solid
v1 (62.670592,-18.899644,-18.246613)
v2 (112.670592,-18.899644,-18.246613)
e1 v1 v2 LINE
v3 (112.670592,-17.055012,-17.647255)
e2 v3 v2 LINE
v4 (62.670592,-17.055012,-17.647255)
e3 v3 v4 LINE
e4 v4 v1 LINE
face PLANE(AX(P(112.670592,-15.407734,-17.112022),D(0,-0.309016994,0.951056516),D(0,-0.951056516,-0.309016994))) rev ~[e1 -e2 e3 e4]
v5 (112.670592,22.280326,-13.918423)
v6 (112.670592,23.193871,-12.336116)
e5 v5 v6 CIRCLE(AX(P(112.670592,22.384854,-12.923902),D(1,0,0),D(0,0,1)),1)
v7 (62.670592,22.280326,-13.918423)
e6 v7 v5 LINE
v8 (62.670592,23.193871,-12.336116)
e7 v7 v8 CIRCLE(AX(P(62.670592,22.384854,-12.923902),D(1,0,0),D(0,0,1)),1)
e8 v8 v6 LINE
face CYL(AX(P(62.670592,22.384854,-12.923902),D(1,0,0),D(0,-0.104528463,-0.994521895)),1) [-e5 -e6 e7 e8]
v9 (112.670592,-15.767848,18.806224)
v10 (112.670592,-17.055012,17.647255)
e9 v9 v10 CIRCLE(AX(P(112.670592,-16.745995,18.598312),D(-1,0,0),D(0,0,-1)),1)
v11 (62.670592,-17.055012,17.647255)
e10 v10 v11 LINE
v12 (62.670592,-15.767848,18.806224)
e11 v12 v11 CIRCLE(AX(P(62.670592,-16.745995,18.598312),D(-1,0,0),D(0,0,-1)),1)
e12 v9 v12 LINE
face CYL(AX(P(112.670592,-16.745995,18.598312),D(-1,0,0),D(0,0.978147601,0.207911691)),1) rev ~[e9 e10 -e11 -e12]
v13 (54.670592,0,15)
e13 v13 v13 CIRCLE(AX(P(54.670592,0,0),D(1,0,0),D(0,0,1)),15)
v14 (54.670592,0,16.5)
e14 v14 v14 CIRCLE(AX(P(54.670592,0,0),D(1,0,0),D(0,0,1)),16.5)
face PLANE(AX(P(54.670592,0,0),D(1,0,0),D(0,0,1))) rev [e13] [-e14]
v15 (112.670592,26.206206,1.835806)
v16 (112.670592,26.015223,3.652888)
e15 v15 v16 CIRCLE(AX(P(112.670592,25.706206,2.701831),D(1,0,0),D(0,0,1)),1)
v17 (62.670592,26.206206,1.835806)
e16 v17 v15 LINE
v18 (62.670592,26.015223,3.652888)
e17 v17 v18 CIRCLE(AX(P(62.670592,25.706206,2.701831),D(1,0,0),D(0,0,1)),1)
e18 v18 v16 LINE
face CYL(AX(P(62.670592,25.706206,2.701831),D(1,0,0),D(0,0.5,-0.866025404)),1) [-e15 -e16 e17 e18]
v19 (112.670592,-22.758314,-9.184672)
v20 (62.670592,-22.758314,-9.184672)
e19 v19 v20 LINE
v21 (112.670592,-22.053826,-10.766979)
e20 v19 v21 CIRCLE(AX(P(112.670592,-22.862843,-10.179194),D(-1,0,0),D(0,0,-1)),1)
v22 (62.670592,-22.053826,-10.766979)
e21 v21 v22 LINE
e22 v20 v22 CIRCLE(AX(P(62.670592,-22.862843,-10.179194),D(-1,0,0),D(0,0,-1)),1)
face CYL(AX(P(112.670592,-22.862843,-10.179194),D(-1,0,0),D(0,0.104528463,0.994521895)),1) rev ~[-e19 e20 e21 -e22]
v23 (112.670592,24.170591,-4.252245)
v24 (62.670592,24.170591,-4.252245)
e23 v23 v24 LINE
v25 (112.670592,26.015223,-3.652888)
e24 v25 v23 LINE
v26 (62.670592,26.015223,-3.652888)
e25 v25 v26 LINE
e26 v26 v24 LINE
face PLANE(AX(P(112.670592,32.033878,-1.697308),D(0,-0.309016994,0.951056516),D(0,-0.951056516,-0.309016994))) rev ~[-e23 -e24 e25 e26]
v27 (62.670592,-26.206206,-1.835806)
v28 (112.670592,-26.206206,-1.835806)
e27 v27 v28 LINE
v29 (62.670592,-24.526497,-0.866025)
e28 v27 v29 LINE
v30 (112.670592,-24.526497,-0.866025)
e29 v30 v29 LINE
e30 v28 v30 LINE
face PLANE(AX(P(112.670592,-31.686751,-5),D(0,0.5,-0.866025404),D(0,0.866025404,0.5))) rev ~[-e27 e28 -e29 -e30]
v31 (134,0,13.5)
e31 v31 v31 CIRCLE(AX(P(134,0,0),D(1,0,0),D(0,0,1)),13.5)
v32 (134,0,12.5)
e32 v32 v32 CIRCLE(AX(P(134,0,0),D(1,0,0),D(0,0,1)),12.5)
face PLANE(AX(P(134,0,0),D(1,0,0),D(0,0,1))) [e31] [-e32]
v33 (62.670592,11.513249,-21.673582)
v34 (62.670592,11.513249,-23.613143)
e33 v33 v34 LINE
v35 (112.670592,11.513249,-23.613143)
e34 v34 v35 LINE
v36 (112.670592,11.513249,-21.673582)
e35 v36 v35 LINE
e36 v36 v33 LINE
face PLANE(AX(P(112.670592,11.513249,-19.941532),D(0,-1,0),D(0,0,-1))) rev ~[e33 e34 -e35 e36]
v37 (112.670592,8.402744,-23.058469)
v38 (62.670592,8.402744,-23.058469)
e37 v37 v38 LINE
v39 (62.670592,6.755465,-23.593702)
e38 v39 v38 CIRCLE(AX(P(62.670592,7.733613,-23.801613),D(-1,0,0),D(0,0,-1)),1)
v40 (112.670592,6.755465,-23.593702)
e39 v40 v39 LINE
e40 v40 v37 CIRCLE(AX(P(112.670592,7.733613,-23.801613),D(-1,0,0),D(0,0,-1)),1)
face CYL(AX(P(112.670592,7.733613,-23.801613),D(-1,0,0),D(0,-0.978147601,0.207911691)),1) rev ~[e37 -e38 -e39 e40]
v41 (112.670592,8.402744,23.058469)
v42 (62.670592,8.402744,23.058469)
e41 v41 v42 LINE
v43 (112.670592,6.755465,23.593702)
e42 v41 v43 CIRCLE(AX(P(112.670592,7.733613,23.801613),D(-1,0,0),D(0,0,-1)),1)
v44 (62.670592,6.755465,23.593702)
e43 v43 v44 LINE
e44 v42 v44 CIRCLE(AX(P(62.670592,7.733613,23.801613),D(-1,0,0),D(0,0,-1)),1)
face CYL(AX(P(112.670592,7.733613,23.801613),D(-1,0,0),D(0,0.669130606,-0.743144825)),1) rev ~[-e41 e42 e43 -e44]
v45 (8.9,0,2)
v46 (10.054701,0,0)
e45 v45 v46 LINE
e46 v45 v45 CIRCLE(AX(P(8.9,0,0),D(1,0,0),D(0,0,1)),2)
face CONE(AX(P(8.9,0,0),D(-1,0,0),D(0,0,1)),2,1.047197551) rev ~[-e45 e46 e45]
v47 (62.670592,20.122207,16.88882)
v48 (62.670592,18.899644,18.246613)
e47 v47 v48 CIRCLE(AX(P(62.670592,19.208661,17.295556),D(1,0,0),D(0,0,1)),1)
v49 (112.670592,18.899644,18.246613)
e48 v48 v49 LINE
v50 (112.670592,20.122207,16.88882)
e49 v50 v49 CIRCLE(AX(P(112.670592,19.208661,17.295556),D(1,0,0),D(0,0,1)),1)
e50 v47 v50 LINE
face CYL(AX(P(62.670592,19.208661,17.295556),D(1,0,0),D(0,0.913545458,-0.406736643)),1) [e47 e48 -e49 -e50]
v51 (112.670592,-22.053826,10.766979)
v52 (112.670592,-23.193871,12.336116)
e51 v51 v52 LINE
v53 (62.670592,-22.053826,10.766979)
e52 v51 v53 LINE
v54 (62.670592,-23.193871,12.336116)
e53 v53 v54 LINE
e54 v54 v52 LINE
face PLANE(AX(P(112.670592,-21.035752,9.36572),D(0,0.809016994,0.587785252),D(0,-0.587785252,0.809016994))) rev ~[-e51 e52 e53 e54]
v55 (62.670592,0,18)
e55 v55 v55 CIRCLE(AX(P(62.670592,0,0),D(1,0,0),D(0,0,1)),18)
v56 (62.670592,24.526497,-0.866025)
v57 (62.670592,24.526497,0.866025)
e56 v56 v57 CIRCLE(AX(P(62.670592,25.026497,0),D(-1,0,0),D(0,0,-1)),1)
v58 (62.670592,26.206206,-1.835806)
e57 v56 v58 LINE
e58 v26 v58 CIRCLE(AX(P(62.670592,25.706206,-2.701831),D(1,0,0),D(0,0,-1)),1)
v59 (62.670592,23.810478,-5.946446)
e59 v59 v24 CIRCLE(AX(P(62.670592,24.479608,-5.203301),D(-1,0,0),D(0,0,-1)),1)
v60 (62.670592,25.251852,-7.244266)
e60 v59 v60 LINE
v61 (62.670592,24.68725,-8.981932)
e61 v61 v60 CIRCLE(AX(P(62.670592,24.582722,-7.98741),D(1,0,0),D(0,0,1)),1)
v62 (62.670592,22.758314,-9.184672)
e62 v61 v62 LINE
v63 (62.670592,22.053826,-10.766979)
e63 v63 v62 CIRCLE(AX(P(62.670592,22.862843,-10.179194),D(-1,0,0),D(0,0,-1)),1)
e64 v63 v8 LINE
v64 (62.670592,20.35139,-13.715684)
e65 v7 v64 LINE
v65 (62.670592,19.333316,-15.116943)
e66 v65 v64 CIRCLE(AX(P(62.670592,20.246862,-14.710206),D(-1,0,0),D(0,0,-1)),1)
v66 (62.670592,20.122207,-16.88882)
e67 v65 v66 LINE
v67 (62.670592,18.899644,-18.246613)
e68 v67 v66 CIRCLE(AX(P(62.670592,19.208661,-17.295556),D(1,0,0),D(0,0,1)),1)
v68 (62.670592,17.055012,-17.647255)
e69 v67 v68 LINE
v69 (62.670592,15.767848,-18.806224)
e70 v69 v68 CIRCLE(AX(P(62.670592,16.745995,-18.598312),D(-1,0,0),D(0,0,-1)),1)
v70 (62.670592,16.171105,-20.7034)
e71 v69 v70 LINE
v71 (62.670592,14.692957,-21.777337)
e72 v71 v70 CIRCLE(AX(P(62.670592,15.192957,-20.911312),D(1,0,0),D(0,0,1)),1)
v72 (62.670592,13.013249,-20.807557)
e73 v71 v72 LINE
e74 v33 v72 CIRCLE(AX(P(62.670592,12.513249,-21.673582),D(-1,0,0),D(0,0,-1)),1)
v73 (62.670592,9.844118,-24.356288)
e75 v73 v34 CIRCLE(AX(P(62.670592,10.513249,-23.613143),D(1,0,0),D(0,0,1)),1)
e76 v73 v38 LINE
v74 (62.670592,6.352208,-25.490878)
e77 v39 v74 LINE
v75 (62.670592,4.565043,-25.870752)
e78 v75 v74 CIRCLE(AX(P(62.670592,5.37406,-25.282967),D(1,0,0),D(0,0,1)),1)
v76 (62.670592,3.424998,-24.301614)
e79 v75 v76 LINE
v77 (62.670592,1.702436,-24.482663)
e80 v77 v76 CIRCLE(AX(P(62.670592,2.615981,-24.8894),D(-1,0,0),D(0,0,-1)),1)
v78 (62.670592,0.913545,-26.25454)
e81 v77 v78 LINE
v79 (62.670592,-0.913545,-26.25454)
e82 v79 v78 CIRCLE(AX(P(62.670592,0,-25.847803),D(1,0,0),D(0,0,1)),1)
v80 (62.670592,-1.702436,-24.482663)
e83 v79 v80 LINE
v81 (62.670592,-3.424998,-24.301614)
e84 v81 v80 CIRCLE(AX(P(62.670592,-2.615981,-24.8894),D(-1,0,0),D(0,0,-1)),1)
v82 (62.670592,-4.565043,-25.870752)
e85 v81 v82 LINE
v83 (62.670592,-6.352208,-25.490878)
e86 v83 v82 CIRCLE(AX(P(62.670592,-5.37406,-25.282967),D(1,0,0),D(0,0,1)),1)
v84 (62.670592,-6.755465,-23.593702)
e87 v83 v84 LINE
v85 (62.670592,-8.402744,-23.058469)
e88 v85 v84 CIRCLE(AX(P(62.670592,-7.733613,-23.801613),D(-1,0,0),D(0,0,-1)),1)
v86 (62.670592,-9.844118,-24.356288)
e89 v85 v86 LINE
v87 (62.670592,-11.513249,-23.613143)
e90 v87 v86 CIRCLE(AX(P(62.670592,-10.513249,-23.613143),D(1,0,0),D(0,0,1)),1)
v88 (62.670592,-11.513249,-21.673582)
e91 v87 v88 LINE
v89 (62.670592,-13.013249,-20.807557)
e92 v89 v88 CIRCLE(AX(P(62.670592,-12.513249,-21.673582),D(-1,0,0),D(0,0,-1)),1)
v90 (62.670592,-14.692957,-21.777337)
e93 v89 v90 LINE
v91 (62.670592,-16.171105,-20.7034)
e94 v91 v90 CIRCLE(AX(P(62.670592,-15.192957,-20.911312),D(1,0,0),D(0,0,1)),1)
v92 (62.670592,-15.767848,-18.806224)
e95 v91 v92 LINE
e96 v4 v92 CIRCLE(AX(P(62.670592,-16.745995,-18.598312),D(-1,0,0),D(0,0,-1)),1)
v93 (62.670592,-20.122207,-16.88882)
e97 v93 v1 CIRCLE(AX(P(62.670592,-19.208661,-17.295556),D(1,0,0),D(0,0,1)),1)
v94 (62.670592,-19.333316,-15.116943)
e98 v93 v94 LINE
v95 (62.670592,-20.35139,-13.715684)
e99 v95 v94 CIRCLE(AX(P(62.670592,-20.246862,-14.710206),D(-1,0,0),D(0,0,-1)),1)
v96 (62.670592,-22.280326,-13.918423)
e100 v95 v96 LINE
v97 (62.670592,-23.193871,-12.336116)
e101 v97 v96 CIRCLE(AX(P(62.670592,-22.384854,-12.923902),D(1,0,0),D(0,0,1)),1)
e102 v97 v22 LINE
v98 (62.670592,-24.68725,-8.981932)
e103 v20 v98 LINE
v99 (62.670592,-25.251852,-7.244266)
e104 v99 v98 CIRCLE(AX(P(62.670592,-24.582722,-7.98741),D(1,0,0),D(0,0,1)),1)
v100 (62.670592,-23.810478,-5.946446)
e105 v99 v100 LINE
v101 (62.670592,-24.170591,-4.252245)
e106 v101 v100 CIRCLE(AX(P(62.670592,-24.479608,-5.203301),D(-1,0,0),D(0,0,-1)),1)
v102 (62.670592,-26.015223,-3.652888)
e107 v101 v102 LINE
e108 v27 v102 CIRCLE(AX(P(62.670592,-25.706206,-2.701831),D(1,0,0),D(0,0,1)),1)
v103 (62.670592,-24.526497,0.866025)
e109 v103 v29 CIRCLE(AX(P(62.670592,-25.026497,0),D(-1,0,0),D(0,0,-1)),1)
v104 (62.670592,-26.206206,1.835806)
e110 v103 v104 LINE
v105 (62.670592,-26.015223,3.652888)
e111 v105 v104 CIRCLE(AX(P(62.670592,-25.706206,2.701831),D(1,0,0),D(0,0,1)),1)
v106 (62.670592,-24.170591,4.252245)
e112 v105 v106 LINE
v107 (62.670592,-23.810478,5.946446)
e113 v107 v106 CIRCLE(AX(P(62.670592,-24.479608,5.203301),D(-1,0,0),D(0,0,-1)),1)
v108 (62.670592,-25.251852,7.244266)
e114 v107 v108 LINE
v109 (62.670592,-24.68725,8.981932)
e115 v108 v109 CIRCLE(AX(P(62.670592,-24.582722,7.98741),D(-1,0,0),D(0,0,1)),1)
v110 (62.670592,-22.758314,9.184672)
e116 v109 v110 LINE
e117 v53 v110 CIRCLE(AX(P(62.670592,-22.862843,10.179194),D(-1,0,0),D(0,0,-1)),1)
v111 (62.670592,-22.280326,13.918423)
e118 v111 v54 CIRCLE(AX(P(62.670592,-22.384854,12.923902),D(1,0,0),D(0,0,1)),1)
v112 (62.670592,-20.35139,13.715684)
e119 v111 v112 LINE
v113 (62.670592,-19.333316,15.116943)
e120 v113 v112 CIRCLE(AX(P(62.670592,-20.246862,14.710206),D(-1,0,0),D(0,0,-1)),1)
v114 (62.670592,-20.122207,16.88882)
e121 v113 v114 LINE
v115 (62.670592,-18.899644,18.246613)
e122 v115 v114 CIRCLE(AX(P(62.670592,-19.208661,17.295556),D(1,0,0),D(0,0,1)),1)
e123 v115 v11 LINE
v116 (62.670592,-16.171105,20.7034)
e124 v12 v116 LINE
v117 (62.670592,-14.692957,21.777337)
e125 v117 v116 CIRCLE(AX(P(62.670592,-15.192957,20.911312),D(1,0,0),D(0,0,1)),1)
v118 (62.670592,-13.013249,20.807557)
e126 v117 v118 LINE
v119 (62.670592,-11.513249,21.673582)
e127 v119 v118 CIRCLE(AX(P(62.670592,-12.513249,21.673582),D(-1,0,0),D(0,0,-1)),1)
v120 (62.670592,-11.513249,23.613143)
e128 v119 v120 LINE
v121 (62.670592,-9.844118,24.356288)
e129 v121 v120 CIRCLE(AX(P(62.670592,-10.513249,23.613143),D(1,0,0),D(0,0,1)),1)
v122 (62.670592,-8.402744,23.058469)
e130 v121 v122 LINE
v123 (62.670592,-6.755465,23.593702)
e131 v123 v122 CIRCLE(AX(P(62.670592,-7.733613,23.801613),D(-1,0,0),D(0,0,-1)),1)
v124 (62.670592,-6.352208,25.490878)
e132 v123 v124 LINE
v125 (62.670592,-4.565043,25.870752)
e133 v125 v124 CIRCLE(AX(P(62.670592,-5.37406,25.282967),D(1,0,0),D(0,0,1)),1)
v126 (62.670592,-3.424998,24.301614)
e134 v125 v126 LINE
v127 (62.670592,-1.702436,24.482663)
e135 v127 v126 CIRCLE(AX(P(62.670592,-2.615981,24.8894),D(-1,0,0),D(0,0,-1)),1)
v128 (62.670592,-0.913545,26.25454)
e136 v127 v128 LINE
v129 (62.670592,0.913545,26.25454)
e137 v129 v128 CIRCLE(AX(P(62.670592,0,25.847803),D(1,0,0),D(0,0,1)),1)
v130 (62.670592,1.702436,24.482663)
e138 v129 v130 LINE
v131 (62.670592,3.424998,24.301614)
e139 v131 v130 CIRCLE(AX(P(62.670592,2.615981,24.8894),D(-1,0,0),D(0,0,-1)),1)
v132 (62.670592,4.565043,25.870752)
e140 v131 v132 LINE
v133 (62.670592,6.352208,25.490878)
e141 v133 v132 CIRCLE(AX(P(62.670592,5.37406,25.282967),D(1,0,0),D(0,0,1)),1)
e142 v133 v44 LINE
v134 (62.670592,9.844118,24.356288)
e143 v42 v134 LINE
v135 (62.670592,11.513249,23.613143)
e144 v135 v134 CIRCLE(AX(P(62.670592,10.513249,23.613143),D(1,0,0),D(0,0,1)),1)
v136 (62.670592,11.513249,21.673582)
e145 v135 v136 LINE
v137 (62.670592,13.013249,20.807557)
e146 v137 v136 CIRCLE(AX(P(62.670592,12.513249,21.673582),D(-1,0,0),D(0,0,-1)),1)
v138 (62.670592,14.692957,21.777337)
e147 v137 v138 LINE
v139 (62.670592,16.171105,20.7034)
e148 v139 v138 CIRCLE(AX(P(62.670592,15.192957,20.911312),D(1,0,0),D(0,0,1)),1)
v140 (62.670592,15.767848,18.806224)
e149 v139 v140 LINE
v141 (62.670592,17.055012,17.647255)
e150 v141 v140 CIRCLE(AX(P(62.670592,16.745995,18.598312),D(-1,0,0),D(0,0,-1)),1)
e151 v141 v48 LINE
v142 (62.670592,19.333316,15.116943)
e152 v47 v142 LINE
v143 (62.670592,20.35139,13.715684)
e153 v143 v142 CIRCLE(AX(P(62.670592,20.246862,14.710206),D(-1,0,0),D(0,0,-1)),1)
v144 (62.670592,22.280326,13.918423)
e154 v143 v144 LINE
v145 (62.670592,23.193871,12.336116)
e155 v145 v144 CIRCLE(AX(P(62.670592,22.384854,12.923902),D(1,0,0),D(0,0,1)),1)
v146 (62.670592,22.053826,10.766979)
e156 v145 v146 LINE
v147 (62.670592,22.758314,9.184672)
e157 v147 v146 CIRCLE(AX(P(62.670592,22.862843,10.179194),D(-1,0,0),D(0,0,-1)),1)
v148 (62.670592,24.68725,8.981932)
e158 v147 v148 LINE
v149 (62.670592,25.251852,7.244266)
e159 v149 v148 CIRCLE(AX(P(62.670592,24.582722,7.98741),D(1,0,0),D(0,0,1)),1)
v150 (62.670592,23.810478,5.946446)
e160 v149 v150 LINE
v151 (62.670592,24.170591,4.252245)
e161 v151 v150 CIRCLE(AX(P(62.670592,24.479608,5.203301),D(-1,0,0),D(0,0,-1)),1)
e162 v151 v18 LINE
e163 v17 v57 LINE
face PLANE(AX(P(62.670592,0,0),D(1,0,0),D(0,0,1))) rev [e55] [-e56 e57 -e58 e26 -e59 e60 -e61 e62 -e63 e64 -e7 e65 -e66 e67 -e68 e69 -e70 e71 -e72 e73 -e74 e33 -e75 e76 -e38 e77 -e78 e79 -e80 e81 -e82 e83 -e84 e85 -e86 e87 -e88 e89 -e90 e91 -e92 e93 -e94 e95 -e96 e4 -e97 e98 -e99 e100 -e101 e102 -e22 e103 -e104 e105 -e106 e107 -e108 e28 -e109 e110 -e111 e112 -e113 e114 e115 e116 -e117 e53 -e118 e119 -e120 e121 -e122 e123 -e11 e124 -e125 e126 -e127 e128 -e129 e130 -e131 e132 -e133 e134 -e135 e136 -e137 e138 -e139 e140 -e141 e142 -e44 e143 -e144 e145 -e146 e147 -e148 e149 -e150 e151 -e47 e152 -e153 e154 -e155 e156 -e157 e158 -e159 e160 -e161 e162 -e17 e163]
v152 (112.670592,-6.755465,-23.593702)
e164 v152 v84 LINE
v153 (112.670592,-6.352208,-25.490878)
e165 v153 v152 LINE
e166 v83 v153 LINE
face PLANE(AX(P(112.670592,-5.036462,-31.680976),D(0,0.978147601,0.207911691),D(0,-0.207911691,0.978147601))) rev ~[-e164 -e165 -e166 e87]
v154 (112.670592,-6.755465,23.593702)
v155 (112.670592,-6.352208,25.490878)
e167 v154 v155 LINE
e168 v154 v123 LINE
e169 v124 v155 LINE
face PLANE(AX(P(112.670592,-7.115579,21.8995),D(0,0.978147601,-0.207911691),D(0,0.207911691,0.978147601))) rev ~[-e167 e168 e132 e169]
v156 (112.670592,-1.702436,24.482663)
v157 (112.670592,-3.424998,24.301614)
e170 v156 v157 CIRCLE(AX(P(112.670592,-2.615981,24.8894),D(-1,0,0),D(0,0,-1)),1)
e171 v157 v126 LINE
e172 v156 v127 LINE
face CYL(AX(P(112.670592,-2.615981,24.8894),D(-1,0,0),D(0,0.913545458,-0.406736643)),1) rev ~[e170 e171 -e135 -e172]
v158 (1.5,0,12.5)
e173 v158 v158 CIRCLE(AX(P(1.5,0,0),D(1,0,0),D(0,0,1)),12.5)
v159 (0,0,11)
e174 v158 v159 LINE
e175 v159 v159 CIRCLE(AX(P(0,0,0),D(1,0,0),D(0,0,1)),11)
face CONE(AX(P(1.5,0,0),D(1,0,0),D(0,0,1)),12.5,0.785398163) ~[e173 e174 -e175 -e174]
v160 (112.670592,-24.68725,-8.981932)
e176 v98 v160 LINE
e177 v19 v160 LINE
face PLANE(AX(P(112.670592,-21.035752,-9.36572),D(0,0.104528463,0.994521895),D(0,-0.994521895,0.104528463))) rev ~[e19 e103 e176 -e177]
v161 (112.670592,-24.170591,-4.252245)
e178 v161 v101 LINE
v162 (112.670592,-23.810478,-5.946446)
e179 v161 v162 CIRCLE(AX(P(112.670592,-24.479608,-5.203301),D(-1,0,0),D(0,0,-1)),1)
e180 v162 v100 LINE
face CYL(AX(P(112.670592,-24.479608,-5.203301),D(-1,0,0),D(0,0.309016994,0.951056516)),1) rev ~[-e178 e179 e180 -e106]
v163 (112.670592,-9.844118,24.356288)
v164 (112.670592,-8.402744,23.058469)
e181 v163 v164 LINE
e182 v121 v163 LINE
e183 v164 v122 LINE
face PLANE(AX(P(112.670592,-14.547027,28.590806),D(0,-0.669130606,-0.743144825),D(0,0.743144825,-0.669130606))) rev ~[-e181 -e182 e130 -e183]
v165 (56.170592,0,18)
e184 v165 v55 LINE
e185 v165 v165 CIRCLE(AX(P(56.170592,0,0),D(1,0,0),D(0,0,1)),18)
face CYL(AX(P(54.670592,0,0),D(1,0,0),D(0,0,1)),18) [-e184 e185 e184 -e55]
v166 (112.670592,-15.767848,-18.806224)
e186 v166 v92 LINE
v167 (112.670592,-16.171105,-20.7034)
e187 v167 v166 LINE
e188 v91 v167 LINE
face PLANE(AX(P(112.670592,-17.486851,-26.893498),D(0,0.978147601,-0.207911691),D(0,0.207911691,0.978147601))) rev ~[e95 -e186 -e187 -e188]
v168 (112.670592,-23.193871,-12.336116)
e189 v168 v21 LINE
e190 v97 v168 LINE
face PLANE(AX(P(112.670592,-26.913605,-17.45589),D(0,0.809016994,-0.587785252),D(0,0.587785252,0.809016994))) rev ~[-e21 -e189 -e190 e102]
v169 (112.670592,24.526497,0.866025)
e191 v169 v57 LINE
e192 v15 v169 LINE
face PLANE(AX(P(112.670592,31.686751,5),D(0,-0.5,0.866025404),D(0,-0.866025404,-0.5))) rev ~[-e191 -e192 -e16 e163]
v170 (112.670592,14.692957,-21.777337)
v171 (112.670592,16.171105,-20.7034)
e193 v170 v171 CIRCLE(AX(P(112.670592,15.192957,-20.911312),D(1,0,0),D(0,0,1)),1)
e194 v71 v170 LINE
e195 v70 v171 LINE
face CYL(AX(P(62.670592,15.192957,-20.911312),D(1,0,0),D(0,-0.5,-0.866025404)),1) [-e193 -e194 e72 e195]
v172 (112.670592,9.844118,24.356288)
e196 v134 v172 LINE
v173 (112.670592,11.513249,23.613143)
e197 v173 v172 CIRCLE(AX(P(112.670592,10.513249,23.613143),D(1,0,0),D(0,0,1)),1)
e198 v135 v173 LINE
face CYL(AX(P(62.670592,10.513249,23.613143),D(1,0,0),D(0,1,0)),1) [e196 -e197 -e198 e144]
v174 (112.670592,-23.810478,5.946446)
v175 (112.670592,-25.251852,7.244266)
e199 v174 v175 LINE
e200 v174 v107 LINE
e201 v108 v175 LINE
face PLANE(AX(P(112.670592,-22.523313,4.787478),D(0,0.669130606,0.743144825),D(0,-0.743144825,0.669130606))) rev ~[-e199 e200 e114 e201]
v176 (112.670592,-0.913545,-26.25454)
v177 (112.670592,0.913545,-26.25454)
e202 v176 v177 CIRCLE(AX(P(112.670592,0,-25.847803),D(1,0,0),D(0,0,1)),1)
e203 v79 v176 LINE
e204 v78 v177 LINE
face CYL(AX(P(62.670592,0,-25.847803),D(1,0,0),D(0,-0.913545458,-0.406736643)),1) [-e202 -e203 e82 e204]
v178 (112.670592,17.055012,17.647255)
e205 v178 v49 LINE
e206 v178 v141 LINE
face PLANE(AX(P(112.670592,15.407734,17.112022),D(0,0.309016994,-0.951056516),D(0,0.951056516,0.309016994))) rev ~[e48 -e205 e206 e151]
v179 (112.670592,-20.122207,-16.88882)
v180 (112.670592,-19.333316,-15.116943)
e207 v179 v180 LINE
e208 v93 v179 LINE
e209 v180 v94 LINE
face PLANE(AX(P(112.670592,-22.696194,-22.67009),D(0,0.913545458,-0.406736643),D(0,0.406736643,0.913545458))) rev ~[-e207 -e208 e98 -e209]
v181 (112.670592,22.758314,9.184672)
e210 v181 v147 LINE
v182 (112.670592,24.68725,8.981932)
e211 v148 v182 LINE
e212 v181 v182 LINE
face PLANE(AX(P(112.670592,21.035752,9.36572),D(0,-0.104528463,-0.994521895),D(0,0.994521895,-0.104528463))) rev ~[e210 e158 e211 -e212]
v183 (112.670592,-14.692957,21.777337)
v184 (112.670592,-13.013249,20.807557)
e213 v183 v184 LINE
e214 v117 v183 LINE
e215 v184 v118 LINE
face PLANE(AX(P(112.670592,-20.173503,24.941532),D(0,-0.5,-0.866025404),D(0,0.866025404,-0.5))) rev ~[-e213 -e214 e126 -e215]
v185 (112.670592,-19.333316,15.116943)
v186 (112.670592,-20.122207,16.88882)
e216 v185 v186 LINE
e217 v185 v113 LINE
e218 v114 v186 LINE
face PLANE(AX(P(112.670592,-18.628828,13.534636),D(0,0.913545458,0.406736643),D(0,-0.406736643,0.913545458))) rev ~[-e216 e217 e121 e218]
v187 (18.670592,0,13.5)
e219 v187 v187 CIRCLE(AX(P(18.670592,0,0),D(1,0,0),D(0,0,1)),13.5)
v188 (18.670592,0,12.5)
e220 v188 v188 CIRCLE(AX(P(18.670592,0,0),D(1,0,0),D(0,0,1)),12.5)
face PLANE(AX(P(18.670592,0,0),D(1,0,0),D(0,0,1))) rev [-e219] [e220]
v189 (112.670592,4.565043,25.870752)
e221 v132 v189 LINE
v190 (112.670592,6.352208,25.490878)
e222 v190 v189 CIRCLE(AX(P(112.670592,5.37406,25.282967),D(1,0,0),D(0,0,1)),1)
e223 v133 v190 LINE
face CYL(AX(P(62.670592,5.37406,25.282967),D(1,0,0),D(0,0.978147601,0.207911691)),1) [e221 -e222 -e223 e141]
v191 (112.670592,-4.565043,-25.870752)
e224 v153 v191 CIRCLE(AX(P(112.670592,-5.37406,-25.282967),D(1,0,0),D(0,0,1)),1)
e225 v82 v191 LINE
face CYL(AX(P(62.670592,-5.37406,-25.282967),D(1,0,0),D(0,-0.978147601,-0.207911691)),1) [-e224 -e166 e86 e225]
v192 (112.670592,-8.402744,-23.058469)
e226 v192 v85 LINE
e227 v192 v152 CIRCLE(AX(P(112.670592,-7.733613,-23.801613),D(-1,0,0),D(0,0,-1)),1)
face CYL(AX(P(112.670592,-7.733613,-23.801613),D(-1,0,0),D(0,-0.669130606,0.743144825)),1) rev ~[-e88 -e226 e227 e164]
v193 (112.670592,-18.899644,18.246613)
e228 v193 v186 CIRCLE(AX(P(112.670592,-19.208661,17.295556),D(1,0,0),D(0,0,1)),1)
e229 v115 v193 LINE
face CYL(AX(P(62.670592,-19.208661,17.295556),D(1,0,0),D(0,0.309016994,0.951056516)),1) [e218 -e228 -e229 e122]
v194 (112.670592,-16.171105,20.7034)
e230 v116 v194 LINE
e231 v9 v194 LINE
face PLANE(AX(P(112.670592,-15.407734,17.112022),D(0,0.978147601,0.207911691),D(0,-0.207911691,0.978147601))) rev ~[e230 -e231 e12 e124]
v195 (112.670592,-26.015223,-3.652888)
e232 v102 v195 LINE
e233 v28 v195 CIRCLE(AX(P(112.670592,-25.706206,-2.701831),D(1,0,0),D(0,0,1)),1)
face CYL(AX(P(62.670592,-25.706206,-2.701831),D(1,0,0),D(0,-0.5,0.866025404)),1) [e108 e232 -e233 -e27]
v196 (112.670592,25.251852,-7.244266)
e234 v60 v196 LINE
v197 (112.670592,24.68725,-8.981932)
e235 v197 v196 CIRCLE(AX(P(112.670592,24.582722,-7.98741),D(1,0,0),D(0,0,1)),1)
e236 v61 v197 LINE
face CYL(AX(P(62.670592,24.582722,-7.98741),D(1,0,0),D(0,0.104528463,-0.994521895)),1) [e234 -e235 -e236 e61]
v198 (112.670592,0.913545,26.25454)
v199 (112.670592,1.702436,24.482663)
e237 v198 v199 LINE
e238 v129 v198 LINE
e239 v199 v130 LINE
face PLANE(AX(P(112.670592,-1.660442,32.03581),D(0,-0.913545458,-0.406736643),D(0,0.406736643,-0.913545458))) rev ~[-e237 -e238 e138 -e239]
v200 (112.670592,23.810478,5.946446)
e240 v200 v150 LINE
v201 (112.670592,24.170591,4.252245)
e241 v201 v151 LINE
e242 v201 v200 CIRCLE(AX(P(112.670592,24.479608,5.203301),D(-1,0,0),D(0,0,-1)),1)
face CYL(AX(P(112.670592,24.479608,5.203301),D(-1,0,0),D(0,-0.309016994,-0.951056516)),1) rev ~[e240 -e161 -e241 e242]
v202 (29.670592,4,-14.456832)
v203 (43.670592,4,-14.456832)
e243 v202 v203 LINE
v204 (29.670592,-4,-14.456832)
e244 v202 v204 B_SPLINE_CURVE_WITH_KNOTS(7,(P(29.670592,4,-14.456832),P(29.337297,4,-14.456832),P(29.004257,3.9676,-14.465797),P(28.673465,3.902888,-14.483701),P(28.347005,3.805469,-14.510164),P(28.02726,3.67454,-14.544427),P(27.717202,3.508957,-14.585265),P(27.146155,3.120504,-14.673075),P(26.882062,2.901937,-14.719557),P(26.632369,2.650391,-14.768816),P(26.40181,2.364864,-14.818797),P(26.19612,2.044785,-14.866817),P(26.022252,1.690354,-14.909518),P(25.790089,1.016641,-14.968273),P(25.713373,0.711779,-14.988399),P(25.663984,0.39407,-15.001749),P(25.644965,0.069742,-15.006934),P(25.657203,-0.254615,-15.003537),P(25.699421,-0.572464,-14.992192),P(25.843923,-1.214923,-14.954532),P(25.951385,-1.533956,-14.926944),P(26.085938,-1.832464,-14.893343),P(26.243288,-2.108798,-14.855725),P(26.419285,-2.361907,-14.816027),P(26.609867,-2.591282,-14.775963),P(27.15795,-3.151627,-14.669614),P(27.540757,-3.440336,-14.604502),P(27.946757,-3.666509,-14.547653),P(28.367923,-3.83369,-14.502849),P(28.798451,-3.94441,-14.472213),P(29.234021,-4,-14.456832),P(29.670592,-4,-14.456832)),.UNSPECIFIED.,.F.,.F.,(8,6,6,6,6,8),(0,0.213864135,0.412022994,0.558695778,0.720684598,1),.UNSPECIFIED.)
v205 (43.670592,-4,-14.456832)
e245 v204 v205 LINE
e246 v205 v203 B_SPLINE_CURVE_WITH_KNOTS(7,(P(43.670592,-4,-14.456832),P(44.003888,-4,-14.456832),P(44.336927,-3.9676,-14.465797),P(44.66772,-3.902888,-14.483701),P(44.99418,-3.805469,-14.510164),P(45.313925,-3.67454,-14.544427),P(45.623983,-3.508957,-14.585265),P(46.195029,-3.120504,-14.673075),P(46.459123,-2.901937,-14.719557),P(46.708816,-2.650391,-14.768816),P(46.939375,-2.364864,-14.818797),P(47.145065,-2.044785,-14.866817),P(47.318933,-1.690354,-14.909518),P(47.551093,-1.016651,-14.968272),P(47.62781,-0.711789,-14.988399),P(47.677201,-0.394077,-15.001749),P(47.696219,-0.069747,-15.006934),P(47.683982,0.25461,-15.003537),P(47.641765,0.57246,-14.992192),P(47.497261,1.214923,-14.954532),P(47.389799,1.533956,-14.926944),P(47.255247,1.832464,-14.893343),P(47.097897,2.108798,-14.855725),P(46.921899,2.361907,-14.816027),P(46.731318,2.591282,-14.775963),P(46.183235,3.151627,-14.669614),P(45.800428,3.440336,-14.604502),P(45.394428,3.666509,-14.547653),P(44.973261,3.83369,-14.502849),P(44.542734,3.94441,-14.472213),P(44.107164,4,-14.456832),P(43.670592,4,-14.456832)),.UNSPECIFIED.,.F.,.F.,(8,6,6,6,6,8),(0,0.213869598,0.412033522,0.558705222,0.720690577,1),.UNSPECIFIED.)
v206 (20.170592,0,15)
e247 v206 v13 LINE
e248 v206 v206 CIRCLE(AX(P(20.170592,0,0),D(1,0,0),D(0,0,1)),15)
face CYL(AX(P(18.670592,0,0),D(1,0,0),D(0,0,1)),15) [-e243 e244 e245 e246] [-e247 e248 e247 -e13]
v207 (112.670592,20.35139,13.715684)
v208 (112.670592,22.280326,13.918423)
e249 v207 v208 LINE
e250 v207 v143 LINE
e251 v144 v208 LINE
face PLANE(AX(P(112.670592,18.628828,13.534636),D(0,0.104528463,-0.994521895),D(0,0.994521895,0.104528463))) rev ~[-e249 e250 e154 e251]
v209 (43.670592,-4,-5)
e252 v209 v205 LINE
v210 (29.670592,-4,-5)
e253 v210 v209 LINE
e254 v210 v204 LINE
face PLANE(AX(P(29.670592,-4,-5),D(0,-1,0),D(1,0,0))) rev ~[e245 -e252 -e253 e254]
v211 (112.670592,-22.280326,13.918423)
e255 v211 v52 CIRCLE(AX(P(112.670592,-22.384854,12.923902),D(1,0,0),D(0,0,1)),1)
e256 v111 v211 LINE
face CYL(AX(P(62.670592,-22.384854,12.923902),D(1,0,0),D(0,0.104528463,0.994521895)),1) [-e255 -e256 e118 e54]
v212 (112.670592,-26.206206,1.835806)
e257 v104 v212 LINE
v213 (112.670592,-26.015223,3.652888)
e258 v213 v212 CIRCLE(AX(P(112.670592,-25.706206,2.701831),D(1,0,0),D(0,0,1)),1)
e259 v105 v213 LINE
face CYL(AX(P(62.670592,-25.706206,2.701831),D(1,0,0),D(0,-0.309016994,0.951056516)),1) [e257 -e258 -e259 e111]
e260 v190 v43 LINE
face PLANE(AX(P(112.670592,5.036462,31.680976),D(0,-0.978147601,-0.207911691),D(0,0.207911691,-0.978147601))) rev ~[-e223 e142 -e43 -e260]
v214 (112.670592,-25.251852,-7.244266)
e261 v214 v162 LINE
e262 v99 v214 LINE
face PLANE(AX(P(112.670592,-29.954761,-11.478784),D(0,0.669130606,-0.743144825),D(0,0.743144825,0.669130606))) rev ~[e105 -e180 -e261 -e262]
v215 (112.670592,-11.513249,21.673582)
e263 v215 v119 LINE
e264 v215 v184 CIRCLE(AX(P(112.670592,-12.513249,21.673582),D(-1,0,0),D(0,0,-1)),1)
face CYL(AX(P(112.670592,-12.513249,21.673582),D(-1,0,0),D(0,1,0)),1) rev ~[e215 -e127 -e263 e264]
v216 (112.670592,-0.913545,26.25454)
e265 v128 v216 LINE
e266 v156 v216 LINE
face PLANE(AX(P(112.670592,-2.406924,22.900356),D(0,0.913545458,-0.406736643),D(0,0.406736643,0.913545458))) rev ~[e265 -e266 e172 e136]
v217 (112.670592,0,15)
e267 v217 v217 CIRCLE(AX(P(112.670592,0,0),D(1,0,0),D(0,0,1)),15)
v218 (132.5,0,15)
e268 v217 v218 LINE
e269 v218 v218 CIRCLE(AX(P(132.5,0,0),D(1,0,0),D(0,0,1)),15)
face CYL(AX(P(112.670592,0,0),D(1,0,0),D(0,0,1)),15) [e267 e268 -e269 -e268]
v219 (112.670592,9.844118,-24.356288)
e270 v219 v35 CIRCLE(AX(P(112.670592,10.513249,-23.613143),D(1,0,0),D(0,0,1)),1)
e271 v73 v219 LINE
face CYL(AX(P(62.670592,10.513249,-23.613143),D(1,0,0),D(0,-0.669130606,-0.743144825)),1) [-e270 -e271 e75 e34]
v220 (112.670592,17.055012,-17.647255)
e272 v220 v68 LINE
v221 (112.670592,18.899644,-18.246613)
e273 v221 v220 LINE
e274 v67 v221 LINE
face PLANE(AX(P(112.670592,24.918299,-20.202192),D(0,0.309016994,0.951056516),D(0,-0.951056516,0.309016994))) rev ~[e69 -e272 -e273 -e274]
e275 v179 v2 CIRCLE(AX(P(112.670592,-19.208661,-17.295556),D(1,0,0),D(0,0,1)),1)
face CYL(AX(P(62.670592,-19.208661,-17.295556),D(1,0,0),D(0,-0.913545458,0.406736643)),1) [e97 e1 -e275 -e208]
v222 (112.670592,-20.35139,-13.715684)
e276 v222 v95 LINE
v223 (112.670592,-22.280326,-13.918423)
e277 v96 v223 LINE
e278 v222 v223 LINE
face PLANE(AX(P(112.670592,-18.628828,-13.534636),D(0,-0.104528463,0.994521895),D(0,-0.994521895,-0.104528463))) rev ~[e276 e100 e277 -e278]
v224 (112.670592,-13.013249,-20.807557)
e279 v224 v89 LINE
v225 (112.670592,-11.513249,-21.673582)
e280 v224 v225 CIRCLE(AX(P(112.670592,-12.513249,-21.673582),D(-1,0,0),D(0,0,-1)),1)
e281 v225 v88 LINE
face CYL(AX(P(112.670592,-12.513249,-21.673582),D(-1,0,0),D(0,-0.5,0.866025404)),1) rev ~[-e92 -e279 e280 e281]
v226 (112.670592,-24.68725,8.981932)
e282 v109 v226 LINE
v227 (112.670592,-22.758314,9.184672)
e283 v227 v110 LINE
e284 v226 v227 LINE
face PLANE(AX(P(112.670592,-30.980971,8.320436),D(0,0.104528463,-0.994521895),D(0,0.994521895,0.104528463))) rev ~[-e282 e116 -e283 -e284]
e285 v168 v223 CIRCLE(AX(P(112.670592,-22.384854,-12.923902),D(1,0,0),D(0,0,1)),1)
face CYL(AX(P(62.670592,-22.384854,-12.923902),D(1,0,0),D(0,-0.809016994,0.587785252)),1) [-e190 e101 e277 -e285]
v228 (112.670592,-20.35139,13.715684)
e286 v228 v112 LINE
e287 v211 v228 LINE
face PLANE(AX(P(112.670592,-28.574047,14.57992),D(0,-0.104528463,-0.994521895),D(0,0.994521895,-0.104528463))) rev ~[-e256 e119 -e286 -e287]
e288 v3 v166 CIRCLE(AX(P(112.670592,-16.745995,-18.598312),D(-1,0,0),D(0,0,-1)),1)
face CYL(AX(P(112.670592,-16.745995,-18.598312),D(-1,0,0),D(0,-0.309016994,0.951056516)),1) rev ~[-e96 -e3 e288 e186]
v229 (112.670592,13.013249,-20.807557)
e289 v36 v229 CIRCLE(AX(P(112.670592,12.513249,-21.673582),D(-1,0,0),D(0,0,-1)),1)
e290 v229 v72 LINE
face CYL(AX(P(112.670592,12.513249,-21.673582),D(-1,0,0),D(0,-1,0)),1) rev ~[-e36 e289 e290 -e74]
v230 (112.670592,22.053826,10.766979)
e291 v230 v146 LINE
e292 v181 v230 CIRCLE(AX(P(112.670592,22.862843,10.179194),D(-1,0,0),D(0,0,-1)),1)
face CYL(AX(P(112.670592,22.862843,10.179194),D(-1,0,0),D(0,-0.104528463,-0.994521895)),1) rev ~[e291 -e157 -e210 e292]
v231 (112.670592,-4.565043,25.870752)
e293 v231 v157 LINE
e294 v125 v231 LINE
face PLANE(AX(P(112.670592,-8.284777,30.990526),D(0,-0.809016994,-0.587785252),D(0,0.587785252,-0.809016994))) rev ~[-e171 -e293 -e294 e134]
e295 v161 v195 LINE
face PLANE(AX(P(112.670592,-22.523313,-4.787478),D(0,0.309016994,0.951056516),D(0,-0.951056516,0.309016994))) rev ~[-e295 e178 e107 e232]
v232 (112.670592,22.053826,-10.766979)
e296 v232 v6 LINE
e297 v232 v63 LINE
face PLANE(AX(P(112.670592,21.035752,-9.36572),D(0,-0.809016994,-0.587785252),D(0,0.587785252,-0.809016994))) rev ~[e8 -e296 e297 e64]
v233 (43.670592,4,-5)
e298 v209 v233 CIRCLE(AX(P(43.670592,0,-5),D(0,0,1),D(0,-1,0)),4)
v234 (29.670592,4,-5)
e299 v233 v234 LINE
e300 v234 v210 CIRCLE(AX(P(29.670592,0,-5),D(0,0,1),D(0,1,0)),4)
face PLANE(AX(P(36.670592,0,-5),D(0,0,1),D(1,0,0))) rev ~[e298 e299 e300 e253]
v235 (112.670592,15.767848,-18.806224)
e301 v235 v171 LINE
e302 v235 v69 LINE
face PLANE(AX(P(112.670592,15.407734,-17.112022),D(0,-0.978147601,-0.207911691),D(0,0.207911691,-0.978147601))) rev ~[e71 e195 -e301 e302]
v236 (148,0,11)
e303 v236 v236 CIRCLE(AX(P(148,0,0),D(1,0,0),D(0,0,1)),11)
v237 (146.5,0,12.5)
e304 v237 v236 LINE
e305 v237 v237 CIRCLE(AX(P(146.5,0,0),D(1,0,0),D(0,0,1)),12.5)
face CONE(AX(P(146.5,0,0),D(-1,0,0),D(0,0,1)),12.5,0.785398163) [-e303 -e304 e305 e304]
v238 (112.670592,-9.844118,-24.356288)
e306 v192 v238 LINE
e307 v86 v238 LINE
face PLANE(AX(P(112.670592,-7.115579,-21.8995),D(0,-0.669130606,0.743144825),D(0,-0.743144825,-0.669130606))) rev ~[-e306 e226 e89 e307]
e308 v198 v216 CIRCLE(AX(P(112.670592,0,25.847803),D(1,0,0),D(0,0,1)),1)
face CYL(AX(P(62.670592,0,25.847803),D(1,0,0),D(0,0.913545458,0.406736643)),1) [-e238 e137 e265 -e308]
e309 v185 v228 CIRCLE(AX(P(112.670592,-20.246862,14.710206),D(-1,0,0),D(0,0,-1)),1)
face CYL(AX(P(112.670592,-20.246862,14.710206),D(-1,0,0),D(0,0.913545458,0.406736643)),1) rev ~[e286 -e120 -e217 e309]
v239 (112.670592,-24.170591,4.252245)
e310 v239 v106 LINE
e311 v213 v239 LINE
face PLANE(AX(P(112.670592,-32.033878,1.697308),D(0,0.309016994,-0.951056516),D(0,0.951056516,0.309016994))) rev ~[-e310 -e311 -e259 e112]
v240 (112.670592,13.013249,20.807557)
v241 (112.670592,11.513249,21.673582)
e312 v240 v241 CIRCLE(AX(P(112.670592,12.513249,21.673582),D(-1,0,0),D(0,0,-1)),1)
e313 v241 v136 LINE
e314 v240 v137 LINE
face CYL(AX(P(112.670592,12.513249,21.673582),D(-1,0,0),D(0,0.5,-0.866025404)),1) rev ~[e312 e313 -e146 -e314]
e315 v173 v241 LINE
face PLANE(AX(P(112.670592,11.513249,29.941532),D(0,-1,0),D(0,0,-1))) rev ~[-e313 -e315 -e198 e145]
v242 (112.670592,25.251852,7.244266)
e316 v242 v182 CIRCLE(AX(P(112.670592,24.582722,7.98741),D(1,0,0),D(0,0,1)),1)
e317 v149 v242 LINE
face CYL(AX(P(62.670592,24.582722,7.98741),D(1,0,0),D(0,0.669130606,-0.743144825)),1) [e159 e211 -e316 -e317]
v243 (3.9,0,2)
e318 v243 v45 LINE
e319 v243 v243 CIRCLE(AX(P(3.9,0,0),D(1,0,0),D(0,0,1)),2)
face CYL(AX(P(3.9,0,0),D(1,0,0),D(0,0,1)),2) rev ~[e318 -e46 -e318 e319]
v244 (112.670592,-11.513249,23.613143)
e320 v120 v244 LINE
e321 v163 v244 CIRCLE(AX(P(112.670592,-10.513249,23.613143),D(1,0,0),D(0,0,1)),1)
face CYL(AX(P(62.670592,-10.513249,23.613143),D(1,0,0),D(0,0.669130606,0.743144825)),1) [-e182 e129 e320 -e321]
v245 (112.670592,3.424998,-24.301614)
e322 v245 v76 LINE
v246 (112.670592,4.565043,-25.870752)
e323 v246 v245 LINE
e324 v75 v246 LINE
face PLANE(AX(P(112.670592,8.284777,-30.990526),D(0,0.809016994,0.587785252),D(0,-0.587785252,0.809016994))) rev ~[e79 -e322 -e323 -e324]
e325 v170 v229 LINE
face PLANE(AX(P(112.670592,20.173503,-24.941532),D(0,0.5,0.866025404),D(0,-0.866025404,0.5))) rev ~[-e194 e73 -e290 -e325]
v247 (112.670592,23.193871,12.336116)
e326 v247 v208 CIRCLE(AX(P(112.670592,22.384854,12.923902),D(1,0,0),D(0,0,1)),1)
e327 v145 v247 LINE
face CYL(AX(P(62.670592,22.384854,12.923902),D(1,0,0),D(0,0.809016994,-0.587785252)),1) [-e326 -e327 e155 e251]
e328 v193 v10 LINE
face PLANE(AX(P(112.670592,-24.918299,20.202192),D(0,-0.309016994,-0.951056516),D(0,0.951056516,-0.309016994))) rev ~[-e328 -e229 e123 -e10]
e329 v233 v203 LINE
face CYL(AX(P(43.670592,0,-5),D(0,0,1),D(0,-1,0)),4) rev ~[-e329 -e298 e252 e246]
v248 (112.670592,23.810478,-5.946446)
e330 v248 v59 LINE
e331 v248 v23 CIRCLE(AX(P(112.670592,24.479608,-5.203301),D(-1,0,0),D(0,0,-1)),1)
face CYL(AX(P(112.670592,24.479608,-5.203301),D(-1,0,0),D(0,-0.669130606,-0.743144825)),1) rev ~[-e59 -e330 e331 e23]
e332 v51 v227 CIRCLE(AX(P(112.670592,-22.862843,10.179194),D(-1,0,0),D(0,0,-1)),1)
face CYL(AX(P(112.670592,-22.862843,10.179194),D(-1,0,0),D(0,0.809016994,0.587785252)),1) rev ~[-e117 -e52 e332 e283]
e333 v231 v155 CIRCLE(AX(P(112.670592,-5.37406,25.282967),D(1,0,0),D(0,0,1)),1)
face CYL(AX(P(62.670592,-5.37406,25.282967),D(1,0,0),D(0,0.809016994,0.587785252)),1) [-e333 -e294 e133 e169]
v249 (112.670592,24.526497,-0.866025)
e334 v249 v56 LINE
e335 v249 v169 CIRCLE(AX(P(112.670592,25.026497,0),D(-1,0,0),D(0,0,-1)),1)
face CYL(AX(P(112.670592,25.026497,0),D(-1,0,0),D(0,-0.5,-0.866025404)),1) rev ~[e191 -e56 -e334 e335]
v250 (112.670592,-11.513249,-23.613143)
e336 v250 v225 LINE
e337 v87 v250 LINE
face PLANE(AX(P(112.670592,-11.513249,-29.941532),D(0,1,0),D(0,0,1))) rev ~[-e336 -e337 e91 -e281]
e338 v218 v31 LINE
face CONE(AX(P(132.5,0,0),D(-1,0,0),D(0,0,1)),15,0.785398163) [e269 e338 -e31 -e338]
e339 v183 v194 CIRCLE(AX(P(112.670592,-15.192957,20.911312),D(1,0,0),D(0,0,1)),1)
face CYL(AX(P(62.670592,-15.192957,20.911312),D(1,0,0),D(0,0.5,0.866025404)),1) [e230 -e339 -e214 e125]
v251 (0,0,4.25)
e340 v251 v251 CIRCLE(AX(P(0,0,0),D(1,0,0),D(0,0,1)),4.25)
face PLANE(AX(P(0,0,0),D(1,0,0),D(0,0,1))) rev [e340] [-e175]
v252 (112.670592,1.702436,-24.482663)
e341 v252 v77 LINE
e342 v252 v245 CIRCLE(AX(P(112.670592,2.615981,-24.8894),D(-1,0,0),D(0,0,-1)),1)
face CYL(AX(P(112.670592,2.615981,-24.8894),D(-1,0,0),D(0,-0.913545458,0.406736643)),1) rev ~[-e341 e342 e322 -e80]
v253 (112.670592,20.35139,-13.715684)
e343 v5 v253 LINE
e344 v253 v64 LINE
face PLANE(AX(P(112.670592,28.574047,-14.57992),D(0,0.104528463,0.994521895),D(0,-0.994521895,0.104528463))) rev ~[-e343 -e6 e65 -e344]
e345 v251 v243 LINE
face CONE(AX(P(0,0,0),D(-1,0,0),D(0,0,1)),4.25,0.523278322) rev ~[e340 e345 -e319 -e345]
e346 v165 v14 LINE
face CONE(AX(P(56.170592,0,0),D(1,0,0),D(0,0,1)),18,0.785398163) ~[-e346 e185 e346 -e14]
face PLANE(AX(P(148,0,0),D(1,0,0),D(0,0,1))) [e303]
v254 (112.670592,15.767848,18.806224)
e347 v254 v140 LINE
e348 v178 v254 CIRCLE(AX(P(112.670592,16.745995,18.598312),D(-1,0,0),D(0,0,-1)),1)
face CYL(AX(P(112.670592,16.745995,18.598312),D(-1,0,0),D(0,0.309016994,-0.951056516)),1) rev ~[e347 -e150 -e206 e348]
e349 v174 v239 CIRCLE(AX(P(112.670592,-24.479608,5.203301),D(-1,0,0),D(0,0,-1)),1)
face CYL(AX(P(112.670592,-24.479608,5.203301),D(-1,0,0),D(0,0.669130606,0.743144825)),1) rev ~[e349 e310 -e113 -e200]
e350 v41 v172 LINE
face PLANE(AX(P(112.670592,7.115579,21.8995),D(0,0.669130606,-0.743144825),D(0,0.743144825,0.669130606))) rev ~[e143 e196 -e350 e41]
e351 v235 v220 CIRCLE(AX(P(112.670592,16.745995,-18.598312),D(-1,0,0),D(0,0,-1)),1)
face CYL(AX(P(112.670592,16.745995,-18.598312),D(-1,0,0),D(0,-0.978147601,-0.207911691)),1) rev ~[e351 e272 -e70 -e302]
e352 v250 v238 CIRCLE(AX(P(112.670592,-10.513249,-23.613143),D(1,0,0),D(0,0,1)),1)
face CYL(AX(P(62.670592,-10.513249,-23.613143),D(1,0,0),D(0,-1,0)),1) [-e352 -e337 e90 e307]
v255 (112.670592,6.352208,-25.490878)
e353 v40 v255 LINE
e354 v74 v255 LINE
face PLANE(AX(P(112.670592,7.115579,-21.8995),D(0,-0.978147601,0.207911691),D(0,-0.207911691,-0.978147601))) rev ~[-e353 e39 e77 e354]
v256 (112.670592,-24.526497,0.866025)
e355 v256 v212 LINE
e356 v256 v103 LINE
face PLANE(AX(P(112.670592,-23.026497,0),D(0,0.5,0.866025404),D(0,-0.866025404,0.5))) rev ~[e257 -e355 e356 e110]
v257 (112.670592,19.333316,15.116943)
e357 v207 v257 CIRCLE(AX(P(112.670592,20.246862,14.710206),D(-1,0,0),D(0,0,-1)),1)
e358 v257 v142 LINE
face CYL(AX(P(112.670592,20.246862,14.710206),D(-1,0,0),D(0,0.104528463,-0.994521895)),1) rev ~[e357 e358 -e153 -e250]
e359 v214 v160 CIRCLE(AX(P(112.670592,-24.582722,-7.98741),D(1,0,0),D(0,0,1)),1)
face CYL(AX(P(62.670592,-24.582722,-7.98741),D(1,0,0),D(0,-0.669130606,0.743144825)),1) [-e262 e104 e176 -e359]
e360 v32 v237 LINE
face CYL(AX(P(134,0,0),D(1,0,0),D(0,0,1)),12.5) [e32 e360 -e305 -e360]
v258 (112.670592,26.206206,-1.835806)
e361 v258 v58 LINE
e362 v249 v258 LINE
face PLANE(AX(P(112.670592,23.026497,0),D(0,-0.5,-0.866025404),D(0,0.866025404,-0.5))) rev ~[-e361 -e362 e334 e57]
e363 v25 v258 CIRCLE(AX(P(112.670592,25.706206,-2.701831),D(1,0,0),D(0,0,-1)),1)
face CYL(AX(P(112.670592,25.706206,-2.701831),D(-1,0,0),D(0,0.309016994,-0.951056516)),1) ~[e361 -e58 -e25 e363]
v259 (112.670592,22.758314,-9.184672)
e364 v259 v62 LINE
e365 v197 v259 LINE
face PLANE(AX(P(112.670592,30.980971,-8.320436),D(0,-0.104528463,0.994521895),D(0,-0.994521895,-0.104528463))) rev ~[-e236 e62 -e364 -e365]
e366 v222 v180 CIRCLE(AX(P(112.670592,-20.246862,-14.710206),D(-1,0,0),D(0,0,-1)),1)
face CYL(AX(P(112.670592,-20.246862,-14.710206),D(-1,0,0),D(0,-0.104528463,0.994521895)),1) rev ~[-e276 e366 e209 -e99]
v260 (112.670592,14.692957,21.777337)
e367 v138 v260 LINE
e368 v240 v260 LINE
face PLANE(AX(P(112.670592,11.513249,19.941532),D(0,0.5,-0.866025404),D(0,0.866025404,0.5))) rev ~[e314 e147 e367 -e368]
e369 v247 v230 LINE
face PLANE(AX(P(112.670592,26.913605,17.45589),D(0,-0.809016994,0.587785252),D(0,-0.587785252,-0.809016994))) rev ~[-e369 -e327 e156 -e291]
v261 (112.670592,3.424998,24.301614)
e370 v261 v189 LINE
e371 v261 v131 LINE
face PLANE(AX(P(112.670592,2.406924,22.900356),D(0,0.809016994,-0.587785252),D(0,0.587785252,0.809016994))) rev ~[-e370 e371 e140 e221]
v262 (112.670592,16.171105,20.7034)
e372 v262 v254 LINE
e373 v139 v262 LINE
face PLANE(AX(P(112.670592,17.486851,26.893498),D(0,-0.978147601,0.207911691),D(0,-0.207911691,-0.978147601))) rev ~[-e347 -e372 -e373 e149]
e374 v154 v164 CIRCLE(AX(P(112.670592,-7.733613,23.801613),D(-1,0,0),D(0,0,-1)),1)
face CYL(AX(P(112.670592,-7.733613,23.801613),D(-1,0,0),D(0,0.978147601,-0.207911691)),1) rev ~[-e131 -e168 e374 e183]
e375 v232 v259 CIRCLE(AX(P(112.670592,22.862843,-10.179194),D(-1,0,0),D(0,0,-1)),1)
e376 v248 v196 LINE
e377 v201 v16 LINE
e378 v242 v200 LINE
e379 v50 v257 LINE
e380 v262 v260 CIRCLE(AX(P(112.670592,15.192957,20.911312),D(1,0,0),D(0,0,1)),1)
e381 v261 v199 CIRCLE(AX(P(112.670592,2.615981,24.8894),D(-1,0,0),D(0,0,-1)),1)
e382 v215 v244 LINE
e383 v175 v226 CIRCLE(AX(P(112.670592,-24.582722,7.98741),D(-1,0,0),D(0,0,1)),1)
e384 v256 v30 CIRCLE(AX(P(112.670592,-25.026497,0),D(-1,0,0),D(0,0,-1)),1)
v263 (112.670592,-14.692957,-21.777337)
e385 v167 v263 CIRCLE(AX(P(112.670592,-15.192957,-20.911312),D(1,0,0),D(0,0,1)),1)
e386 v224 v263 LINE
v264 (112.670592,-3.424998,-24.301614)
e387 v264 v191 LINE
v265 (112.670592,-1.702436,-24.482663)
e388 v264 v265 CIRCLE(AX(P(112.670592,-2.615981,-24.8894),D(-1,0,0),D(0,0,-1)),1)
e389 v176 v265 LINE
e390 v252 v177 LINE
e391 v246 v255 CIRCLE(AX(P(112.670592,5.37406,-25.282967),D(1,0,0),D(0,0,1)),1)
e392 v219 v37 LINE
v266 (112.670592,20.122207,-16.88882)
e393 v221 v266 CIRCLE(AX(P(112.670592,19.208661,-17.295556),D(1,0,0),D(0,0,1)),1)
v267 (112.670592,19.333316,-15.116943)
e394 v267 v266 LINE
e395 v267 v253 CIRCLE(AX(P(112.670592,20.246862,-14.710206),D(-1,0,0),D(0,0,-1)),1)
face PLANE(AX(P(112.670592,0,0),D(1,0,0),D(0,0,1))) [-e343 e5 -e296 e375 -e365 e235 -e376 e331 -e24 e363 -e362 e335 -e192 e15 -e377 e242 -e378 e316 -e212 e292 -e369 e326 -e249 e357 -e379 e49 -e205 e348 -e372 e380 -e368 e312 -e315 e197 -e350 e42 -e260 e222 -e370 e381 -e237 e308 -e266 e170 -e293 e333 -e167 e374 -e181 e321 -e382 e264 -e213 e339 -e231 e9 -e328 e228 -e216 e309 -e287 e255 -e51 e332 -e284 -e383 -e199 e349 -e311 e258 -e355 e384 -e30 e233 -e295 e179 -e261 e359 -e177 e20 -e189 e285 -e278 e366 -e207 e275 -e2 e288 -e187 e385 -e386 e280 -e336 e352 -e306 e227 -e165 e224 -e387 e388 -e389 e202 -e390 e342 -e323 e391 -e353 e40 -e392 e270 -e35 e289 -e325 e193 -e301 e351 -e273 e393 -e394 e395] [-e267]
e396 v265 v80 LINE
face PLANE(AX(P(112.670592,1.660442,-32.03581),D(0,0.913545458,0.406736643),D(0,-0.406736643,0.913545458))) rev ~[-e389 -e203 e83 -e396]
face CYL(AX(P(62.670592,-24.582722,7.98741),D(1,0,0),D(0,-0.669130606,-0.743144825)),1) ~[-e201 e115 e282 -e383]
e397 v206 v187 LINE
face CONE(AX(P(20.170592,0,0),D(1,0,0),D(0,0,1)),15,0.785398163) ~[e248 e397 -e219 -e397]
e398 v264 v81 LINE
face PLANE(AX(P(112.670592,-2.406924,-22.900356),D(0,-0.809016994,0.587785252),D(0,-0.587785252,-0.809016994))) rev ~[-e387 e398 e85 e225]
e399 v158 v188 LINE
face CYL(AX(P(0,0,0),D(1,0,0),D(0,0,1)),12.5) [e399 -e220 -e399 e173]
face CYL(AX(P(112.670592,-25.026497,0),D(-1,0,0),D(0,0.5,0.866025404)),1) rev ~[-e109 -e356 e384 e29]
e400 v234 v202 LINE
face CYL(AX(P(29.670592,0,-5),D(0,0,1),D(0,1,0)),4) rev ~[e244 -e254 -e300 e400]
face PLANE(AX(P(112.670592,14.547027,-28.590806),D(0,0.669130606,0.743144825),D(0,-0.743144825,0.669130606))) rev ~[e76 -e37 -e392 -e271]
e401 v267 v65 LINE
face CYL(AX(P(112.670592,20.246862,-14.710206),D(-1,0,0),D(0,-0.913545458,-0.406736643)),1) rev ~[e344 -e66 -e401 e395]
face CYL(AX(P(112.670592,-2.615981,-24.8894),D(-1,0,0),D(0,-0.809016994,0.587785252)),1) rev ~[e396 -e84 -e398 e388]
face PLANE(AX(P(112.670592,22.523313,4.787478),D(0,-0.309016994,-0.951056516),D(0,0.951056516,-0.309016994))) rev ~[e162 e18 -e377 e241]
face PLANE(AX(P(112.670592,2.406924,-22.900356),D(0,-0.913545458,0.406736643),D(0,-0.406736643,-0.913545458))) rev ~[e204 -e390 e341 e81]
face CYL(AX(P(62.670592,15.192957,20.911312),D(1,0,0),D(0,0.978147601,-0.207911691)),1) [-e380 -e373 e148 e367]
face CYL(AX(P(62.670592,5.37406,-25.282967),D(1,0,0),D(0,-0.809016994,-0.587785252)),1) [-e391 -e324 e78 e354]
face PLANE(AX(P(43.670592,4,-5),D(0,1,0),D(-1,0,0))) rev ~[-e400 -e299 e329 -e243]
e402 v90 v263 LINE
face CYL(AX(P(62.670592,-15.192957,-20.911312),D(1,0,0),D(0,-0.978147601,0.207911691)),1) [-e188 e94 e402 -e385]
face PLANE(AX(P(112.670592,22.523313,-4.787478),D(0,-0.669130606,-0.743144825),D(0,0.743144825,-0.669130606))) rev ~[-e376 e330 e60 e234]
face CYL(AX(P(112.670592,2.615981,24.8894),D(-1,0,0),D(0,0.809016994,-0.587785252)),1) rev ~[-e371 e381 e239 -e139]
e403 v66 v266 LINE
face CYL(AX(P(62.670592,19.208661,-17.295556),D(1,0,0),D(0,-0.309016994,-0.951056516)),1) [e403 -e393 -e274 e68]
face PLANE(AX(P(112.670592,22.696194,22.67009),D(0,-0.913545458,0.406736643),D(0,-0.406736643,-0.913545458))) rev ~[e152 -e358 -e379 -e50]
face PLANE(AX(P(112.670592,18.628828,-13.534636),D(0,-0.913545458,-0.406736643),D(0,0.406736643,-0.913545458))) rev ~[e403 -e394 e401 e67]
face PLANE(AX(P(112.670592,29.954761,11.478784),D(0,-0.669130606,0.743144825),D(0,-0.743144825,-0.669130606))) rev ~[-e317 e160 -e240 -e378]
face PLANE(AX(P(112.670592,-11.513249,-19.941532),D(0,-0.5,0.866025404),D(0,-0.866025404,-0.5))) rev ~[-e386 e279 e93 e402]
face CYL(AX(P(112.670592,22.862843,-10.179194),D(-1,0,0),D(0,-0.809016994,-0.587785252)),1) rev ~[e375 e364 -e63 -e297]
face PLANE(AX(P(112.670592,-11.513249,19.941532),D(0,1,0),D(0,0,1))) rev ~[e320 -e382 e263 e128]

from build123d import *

# Parameters (mm, degrees)
CUT_EXTRUDE_START        = -10
CUT_EXTRUDE_1_DEPTH      = 168.009171707
CUT_EXTRUDE_3_REACH      = 121.806
PATTERN_CIRCULAR_4_COUNT = 30
FILLET_4_R               = 1
CHAMFER_1_SIZE           = 1.5


with BuildPart() as part:
    # Эскиз1 → Повернуть1 (revolve)
    with BuildSketch(Plane.XY, mode=Mode.PRIVATE) as revolve_1_sk:
        Polygon((54.670592349, -18), (62.670592349, -18), (62.670592349, -28.8), (112.670592349, -28.8), (112.670592349, -15), (134, -15), (134, -12.5), (148, -12.5), (148, 0), (0, 0), (0, -12.5), (18.670592349, -12.5), (18.670592349, -15), (54.670592349, -15), align=None)
    revolve(revolve_1_sk.sketch.rotate(Axis((0, 0, 0), (1, 0, 0)), 270), axis=Axis((0, 0, 0), (1, 0, 0)))

    # Эскиз2 → Вырез-Повернуть1 (revolve, cut)
    with BuildSketch(Plane.XY, mode=Mode.PRIVATE) as cut_revolve_1_sk:
        Polygon((0, 0), (0, 4.25), (3.9, 2), (8.9, 2), (10.054700538, 0), align=None)
    revolve(cut_revolve_1_sk.sketch.rotate(Axis((0, 0, 0), (1, 0, 0)), 90), axis=Axis((0, 0, 0), (1, 0, 0)), mode=Mode.SUBTRACT)

    # Эскиз3 → Вырез-Вытянуть1 (cut, through all)
    with BuildSketch(Plane(origin=(0, 0, -15), x_dir=(-1, 0, 0), z_dir=(0, 0, -1)).offset(CUT_EXTRUDE_START)):
        with BuildLine():
            Line((-29.670592349, -4), (-43.670592349, -4))
            ThreePointArc((-43.670592349, -4), (-47.670592349, 0), (-43.670592349, 4))
            Line((-43.670592349, 4), (-29.670592349, 4))
            ThreePointArc((-29.670592349, 4), (-25.670592349, 0), (-29.670592349, -4))
        make_face()
    extrude(amount=CUT_EXTRUDE_1_DEPTH, mode=Mode.SUBTRACT)

    # Эскиз4 → Вырез-Вытянуть3 (cut, up to next)
    with BuildSketch(Plane(origin=(112.670592349, 0, 0), x_dir=(0, 0, -1), z_dir=(1, 0, 0)), mode=Mode.PRIVATE) as cut_extrude_3_sk1:
        Polygon((5, 31.686751346), (-5, 31.686751346), (0, 23.026497308), align=None)
    cut_extrude_3_tool1 = extrude(cut_extrude_3_sk1.sketch, amount=-CUT_EXTRUDE_3_REACH, mode=Mode.PRIVATE) & part.part
    cut_extrude_3 = cut_extrude_3_tool1.solids().sort_by_distance((112.670592, 28.8, 0))[0]
    add(cut_extrude_3, mode=Mode.SUBTRACT)

    # Круговой массив4: Вырез-Вытянуть3 ×30 about axis
    pattern_circular_4_axis = Axis((0, 0, 0), (1, 0, 0))
    for i in range(1, PATTERN_CIRCULAR_4_COUNT):
        add(cut_extrude_3.rotate(pattern_circular_4_axis, i * 360 / PATTERN_CIRCULAR_4_COUNT), mode=Mode.SUBTRACT)

    # Скругление4
    fillet_4_edges = [part.edges().sort_by_distance(p)[0] for p in [
        (87.670592349, 28.15133101, -2.958824118),
        (87.670592349, 22.523313095, -4.787477989),
        (87.670592349, 26.92098276, -8.747157541),
        (87.670592349, 21.035752021, -9.365720217),
        (87.670592349, 24.514058382, -14.153198206),
        (87.670592349, 18.628827643, -13.53463553),
        (87.670592349, 21.035752021, -18.940676195),
        (87.670592349, 15.407734106, -17.112022323),
        (87.670592349, 16.638082356, -22.900355747),
        (87.670592349, 11.513248654, -19.941531629),
        (87.670592349, 11.513248654, -25.859179864),
        (87.670592349, 7.115578989, -21.899500312),
        (87.670592349, 5.885230739, -27.687833735),
        (87.670592349, 2.406924378, -22.900355747),
        (87.670592349, 0, -28.306396412),
        (87.670592349, -2.406924378, -22.900355747),
        (87.670592349, -5.885230739, -27.687833735),
        (87.670592349, -7.115578989, -21.899500312),
        (87.670592349, -11.513248654, -25.859179864),
        (87.670592349, -11.513248654, -19.941531629),
        (87.670592349, -16.638082356, -22.900355747),
        (87.670592349, -15.407734106, -17.112022323),
        (87.670592349, -21.035752021, -18.940676195),
        (87.670592349, -18.628827643, -13.53463553),
        (87.670592349, -24.514058382, -14.153198206),
        (87.670592349, -21.035752021, -9.365720217),
        (87.670592349, -26.92098276, -8.747157541),
        (87.670592349, -22.523313095, -4.787477989),
        (87.670592349, -28.15133101, -2.958824118),
        (87.670592349, -23.026497308, 0),
        (87.670592349, -28.15133101, 2.958824118),
        (87.670592349, -22.523313095, 4.787477989),
        (87.670592349, -26.92098276, 8.747157541),
        (87.670592349, -21.035752021, 9.365720217),
        (87.670592349, -24.514058382, 14.153198206),
        (87.670592349, -18.628827643, 13.53463553),
        (87.670592349, -21.035752021, 18.940676195),
        (87.670592349, -15.407734106, 17.112022323),
        (87.670592349, -16.638082356, 22.900355747),
        (87.670592349, -11.513248654, 19.941531629),
        (87.670592349, -11.513248654, 25.859179864),
        (87.670592349, -7.115578989, 21.899500312),
        (87.670592349, -5.885230739, 27.687833735),
        (87.670592349, -2.406924378, 22.900355747),
        (87.670592349, 0, 28.306396412),
        (87.670592349, 2.406924378, 22.900355747),
        (87.670592349, 5.885230739, 27.687833735),
        (87.670592349, 7.115578989, 21.899500312),
        (87.670592349, 11.513248654, 25.859179864),
        (87.670592349, 11.513248654, 19.941531629),
        (87.670592349, 16.638082356, 22.900355747),
        (87.670592349, 15.407734106, 17.112022323),
        (87.670592349, 21.035752021, 18.940676195),
        (87.670592349, 18.628827643, 13.53463553),
        (87.670592349, 24.514058382, 14.153198206),
        (87.670592349, 21.035752021, 9.365720217),
        (87.670592349, 28.15133101, 2.958824118),
        (87.670592349, 26.92098276, 8.747157541),
        (87.670592349, 22.523313095, 4.787477989),
        (87.670592349, 23.026497308, 0),
    ]]
    fillet(fillet_4_edges, radius=FILLET_4_R)

    # Фаска1
    chamfer_1_edges = [part.edges().sort_by_distance(p)[0] for p in [
        (54.670592349, 0, -18),
        (18.670592349, 0, -15),
        (0, 0, -12.5),
        (148, 0, -12.5),
        (134, 0, -15),
    ]]
    chamfer(chamfer_1_edges, length=CHAMFER_1_SIZE)


solid = part.part
